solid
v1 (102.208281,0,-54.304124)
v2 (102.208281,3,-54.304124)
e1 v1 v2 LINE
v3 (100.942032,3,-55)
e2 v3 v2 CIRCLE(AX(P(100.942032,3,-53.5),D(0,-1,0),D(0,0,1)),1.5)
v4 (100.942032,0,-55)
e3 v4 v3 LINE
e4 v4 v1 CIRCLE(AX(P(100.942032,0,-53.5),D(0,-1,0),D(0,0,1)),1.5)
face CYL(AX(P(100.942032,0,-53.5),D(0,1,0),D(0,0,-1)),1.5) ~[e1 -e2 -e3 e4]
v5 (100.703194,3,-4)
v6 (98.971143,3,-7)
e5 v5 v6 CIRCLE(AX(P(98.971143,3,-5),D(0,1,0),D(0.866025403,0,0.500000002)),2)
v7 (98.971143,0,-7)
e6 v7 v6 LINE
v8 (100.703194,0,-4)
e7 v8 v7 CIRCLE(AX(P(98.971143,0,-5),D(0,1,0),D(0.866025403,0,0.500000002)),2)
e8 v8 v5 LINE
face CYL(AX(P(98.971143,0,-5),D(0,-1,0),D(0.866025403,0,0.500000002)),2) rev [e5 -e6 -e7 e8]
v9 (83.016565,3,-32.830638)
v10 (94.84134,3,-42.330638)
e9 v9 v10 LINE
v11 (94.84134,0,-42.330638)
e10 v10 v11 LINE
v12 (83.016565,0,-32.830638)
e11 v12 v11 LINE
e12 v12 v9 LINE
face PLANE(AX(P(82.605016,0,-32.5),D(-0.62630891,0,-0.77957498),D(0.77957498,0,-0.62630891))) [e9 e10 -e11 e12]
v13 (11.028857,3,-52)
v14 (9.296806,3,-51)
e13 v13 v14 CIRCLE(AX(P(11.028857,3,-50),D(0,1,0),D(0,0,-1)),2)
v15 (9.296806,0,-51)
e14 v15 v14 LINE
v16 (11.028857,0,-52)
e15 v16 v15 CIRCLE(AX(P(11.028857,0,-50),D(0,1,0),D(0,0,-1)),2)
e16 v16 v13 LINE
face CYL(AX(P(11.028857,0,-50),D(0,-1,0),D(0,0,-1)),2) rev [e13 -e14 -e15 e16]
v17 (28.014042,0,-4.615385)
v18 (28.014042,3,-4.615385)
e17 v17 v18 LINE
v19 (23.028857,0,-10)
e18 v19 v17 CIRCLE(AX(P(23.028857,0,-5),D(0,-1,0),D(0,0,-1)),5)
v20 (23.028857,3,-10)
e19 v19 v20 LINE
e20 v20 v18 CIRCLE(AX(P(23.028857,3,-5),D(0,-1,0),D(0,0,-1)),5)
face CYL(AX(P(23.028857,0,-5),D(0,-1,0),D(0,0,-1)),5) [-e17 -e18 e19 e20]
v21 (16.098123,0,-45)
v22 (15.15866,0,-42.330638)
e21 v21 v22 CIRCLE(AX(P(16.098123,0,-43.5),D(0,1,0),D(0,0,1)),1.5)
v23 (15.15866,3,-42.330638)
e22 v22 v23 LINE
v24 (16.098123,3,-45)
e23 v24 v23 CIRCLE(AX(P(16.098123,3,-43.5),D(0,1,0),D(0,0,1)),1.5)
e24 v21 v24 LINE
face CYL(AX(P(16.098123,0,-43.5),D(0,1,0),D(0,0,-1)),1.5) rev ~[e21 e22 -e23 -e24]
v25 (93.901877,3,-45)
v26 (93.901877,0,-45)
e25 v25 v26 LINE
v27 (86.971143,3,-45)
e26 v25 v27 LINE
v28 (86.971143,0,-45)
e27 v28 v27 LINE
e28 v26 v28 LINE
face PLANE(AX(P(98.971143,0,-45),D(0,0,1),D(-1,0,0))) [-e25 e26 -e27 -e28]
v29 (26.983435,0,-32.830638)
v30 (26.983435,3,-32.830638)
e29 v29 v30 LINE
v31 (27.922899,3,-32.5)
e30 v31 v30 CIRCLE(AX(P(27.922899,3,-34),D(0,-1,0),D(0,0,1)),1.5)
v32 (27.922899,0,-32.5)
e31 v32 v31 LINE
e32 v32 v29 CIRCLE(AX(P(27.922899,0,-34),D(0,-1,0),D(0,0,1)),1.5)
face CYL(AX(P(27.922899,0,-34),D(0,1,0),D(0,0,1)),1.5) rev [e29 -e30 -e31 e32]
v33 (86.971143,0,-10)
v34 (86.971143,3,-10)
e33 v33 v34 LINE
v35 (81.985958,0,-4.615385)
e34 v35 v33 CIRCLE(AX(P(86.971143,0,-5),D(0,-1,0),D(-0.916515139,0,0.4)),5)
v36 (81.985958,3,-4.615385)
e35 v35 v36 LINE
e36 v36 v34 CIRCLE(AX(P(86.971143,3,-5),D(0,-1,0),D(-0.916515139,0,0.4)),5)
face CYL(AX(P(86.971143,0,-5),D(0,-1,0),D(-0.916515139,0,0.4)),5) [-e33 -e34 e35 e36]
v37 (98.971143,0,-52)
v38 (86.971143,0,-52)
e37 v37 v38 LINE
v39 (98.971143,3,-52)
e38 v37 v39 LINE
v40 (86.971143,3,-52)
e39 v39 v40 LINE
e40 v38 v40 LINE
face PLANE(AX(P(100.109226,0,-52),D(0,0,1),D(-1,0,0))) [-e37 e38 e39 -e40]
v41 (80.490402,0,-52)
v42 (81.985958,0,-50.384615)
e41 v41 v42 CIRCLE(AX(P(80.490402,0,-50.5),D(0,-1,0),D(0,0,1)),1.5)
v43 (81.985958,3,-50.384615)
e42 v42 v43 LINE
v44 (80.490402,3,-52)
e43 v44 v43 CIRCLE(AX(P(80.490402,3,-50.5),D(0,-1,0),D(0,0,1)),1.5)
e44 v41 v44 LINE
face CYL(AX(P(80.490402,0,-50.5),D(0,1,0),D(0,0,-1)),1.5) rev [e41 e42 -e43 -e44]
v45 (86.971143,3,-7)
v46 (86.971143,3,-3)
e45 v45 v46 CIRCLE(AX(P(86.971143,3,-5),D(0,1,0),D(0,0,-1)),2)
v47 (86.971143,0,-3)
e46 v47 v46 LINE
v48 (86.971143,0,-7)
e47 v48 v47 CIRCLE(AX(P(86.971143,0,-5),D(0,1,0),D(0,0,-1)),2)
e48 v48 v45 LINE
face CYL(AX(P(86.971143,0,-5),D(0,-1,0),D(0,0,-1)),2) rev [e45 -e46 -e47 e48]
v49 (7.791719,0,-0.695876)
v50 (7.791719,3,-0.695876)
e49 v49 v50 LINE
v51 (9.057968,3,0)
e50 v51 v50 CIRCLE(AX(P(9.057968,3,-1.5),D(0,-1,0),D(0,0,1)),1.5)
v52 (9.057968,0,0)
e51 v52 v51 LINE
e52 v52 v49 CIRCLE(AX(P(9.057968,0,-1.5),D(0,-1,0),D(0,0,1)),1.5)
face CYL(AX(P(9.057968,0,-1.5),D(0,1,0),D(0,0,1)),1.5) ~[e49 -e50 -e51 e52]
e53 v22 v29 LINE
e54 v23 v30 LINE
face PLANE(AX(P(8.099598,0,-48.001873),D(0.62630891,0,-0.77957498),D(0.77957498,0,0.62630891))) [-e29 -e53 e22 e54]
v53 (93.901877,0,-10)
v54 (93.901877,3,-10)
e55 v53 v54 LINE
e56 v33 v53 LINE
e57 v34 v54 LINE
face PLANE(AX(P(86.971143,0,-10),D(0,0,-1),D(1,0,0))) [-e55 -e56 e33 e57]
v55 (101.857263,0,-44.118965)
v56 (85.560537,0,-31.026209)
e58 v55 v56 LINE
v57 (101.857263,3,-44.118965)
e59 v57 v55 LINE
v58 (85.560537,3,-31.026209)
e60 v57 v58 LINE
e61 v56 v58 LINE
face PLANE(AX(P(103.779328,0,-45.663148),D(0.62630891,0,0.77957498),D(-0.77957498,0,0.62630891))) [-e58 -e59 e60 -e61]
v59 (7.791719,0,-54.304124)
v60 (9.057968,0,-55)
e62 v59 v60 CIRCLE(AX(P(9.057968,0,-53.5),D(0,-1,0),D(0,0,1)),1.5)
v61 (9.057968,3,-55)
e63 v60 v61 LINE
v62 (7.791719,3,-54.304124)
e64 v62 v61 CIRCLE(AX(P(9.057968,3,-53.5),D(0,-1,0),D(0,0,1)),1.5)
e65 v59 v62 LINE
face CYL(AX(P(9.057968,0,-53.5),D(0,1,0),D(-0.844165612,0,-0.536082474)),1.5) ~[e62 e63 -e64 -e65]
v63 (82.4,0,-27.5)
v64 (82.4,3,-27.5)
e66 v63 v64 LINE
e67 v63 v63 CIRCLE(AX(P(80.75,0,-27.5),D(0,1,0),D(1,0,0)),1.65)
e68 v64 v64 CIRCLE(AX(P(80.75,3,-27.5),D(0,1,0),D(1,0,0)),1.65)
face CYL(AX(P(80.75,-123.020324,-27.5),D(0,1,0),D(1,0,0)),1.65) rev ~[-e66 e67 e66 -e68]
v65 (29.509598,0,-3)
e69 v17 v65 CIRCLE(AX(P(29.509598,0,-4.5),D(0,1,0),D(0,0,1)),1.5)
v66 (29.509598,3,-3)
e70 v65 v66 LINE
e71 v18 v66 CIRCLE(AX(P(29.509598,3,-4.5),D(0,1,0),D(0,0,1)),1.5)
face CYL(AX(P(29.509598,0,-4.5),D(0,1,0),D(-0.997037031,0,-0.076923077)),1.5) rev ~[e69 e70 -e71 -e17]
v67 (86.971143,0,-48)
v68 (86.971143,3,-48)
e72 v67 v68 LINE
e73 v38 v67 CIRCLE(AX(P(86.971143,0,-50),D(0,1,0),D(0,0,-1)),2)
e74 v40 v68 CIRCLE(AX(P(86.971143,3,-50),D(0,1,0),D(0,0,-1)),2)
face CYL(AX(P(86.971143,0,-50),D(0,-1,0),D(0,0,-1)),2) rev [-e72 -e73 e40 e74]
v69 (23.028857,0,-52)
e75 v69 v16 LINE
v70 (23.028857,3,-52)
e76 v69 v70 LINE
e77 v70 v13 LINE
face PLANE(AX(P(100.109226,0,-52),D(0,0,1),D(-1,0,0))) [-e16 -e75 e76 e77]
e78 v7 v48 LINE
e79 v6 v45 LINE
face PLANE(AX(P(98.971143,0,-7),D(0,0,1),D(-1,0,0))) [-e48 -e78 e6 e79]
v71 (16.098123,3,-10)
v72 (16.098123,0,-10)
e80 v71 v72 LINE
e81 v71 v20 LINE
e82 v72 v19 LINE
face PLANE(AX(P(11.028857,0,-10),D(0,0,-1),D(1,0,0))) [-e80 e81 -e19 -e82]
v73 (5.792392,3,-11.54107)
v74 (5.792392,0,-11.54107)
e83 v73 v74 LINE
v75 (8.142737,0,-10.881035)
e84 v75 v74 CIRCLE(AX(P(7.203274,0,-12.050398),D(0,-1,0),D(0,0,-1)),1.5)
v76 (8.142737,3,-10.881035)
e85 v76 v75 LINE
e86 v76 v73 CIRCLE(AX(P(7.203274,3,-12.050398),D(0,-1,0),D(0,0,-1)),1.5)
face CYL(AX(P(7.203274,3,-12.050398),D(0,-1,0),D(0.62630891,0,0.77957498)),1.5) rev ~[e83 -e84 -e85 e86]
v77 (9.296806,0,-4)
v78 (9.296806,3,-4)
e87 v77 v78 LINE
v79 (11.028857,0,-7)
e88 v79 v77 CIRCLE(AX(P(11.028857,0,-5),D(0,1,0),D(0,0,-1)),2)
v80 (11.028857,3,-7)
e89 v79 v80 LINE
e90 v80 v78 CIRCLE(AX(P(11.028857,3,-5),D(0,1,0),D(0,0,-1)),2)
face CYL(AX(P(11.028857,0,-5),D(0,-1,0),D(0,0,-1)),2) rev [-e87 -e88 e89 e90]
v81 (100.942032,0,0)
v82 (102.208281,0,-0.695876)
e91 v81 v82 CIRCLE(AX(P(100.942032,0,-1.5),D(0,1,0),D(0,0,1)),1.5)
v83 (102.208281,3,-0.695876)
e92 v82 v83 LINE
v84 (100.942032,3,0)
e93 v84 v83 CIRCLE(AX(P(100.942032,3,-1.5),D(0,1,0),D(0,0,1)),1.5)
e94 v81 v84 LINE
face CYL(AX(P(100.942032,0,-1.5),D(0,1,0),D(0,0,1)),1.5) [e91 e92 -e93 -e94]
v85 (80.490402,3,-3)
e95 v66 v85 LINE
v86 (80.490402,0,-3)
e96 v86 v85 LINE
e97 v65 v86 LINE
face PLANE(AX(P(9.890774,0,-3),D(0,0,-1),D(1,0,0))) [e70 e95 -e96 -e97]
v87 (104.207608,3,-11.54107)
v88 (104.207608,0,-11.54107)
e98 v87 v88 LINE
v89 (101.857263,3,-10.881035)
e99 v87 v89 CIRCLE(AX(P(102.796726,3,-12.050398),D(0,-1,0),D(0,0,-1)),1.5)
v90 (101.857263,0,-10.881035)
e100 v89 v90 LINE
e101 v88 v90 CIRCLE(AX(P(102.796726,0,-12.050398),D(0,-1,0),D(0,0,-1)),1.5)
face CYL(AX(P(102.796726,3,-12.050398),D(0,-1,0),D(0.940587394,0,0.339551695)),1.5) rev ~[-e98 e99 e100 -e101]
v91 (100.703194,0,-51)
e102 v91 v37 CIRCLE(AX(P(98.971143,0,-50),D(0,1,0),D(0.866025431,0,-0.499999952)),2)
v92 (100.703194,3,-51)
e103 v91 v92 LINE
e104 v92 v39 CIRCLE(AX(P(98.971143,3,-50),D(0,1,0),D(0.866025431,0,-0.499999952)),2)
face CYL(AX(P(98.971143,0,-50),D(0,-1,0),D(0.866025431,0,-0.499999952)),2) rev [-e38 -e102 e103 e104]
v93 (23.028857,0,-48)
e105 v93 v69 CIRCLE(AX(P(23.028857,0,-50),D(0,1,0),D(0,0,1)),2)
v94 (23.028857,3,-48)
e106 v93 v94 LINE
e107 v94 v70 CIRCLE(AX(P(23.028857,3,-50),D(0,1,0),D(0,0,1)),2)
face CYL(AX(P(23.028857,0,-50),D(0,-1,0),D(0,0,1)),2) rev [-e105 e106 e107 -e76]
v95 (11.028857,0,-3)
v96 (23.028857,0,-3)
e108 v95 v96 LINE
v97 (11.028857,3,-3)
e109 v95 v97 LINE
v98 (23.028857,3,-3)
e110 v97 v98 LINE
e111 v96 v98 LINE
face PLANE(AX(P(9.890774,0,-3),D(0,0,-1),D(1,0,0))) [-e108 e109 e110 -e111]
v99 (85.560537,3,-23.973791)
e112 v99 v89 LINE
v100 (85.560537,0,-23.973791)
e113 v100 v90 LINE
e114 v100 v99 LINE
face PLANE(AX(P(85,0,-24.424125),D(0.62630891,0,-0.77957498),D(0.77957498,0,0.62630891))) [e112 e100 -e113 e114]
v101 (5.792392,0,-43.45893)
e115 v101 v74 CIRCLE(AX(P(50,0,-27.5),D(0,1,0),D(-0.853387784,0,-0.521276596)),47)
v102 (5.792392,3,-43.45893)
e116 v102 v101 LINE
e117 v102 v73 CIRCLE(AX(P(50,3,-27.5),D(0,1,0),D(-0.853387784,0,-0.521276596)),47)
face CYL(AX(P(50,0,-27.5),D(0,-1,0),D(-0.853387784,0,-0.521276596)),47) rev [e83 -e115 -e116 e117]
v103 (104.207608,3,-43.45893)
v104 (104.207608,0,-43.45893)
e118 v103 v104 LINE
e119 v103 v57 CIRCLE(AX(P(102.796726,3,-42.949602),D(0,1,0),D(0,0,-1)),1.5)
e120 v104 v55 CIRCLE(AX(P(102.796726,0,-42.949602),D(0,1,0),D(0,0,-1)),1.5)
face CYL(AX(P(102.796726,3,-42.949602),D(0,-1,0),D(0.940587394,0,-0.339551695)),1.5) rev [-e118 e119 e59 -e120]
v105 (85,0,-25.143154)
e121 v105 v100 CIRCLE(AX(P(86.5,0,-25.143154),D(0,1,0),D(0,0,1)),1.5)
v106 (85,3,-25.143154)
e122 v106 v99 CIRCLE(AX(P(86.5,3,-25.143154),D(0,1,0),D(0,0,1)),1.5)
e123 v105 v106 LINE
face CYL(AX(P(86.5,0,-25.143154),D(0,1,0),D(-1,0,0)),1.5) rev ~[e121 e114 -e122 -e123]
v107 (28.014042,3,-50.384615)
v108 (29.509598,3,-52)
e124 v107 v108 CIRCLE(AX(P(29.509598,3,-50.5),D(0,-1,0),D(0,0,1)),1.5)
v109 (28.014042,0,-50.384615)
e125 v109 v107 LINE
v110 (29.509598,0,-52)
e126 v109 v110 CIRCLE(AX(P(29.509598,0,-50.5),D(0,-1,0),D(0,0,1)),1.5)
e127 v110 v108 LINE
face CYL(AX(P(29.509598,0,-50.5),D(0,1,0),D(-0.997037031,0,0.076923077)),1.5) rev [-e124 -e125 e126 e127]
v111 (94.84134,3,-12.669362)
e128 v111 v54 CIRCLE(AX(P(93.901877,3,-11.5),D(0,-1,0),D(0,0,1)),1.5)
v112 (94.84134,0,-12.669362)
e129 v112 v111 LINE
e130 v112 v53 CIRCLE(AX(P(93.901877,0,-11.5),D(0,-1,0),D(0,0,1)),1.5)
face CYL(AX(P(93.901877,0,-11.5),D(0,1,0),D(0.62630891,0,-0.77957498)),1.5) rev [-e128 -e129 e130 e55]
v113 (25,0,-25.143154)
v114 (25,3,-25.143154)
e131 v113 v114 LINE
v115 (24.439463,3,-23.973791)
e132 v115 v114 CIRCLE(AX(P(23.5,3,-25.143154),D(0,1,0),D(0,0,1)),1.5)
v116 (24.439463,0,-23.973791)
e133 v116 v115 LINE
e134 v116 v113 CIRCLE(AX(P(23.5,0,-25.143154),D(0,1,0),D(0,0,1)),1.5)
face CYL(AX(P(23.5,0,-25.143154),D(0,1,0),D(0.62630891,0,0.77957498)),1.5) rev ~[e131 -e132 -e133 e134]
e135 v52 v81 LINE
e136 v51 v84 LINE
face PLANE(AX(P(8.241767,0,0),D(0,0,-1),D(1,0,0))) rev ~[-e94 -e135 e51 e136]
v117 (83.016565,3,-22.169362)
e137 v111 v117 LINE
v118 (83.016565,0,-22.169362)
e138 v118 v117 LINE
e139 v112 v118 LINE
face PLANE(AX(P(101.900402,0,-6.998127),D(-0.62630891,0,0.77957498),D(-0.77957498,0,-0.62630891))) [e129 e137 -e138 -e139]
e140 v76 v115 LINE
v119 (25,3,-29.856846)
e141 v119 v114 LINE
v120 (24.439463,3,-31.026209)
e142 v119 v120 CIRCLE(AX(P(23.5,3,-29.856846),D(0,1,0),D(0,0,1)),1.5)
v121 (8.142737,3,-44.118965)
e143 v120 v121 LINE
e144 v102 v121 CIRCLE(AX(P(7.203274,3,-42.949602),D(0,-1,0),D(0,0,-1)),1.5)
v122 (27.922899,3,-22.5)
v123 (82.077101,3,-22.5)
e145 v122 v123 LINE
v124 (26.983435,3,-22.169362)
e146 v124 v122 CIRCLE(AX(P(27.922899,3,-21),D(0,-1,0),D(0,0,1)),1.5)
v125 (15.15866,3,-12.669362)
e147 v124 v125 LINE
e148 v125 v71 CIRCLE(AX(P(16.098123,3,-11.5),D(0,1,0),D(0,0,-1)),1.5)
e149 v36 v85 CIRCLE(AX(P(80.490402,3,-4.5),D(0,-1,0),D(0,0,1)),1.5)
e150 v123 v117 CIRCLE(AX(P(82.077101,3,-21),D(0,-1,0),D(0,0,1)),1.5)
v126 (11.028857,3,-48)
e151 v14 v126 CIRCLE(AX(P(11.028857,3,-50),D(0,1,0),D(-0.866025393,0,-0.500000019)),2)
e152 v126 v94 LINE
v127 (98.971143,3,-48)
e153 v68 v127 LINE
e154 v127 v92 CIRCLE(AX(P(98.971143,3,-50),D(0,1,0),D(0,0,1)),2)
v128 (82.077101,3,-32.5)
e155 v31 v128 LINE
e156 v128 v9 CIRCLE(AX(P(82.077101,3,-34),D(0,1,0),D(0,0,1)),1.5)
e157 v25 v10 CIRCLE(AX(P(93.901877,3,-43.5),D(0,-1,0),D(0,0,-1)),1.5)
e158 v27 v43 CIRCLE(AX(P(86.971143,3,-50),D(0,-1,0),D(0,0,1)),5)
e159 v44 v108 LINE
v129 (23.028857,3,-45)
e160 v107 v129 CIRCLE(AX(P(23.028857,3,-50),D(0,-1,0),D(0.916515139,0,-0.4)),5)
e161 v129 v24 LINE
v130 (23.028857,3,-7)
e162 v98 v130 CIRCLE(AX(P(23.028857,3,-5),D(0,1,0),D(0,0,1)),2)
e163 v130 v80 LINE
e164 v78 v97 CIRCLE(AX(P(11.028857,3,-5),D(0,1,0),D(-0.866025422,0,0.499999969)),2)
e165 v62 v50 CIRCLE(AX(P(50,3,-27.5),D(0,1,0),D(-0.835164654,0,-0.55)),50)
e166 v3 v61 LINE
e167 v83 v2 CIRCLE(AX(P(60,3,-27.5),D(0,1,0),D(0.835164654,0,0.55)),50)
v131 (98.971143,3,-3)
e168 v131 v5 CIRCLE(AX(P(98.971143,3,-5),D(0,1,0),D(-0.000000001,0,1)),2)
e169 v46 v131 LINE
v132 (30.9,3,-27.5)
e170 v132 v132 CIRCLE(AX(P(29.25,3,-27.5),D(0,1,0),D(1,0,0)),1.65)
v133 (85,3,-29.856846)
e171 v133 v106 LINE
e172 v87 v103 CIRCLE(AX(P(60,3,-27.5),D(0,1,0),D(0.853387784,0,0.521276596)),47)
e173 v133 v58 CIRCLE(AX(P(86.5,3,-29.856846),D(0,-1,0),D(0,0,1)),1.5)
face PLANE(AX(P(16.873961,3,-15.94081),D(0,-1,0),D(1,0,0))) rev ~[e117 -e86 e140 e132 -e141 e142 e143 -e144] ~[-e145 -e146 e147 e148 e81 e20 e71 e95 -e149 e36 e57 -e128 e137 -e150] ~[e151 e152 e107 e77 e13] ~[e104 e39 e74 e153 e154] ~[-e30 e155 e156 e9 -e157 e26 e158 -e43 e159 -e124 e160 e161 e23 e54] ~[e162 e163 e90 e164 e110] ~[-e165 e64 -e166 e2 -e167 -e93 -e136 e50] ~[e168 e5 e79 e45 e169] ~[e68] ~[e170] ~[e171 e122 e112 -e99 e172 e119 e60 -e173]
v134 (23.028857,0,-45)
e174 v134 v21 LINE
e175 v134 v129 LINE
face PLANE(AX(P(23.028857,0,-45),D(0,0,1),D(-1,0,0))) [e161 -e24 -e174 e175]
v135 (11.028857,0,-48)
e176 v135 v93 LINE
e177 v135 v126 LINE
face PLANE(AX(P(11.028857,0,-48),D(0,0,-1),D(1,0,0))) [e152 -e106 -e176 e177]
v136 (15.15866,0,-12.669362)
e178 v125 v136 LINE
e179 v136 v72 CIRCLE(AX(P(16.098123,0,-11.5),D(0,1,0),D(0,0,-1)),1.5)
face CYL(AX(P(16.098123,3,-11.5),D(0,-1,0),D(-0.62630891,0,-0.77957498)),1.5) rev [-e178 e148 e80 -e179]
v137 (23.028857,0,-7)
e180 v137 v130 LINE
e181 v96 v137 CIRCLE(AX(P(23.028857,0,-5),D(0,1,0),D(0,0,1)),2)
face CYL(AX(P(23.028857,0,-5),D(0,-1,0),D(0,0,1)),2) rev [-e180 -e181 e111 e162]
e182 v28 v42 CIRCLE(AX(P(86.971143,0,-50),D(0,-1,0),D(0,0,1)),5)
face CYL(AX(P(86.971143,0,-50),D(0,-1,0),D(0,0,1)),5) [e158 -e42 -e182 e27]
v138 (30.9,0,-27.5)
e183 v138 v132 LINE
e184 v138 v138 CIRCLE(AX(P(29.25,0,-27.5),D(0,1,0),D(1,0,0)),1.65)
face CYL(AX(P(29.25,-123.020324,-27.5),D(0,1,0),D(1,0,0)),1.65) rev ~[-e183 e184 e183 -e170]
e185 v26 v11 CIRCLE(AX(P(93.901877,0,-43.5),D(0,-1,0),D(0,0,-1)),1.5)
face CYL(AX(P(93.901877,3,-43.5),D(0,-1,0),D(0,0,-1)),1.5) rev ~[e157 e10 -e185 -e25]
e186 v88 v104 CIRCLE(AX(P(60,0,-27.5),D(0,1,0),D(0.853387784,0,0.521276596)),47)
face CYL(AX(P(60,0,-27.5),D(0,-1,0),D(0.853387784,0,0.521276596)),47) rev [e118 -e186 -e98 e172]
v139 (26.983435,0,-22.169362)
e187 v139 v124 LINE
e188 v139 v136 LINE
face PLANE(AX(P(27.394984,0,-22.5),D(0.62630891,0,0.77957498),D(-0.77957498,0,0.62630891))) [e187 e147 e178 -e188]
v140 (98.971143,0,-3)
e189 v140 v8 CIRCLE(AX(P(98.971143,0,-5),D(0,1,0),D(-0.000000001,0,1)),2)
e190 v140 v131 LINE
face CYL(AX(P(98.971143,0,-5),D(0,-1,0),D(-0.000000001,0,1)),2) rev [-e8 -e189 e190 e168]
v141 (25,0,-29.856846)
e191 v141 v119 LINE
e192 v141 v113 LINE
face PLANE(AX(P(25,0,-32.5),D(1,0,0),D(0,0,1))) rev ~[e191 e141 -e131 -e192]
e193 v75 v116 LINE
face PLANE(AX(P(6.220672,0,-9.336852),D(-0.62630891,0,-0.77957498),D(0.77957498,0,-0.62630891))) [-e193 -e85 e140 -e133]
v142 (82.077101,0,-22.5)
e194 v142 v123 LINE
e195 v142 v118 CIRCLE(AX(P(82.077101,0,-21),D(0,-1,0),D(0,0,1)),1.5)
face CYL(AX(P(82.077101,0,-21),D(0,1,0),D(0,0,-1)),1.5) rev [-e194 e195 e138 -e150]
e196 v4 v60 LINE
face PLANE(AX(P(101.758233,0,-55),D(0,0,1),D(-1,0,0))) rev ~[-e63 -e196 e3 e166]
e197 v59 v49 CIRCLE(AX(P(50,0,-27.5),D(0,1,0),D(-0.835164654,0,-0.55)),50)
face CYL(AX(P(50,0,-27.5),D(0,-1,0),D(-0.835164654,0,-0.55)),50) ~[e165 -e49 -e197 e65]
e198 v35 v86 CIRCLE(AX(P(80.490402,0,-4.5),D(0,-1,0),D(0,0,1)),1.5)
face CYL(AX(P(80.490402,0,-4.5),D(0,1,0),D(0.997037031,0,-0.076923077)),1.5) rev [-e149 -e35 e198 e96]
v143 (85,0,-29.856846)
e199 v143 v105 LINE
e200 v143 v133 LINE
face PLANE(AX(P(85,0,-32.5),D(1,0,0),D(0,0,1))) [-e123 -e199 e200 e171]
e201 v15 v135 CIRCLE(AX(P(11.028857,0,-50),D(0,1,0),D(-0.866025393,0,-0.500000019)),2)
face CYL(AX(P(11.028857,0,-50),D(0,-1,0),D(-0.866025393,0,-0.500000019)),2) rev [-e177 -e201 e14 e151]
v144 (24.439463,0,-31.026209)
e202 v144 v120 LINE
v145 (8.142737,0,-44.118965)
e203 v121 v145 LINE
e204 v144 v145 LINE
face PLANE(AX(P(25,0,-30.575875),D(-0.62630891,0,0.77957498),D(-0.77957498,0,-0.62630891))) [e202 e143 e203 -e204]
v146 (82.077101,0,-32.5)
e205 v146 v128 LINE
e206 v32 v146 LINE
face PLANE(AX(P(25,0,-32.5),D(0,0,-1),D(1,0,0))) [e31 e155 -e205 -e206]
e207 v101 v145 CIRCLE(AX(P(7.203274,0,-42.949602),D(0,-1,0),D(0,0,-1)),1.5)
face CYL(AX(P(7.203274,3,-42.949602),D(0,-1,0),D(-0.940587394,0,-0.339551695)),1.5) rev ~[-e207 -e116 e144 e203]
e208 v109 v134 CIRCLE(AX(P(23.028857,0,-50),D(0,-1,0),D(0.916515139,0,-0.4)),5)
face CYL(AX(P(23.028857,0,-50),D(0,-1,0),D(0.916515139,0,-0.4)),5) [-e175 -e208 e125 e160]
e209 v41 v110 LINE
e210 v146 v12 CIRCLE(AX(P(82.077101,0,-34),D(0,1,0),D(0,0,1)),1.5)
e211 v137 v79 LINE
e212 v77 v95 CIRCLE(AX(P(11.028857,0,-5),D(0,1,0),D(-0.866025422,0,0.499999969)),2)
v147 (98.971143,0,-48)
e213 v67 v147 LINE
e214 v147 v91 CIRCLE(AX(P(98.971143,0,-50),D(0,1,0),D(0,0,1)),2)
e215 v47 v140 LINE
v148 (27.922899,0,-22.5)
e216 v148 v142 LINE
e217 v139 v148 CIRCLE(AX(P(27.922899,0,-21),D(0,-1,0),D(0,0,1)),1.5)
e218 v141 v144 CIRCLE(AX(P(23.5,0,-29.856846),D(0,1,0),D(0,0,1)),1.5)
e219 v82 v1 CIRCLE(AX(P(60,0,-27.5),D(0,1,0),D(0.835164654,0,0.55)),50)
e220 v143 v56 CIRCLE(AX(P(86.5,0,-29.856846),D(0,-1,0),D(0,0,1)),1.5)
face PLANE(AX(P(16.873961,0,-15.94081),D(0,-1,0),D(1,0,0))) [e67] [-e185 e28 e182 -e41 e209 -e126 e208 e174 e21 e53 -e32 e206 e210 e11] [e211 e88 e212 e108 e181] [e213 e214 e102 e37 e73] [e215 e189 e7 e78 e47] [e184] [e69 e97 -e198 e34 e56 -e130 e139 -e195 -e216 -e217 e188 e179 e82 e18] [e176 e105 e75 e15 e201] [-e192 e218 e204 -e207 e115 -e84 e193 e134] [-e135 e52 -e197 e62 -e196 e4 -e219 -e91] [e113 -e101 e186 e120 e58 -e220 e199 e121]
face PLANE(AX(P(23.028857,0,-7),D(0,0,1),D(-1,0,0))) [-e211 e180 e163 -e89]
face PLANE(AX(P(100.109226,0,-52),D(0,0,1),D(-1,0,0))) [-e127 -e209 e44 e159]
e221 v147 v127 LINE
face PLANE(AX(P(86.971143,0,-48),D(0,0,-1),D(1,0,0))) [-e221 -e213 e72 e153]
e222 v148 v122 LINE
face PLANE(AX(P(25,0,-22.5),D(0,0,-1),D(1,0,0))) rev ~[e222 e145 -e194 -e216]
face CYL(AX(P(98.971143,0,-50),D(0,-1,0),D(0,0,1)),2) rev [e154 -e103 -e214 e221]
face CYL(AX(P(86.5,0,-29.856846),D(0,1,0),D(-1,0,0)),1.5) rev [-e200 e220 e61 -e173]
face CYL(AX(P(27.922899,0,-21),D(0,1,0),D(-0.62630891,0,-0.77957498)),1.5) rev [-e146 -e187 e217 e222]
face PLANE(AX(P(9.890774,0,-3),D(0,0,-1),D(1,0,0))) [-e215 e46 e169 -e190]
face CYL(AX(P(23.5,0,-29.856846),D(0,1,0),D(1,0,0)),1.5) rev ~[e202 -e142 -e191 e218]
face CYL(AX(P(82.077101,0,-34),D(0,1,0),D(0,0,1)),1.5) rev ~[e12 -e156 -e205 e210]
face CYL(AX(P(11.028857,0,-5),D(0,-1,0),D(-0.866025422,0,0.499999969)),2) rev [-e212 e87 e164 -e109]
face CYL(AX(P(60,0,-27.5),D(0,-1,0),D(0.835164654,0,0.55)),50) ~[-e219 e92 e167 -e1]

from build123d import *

# Parameters (mm, degrees)
EXTRUDE_1_DEPTH = 3
SKETCH_3_W      = 60
SKETCH_3_H      = 10
EXTRUDE_3_DEPTH = 3
EXTRUDE_4_DEPTH = 3
EXTRUDE_5_DEPTH = 3
FILLET_1_R      = 1.5
FILLET_2_R      = 1.5
M4X0_71_D       = 3.3


with BuildPart() as part:
    # Эскиз1 → Бобышка-Вытянуть1 (new body)
    with BuildSketch(Plane(origin=(0, 0, 0), x_dir=(1, 0, 0), z_dir=(0, 1, 0))):
        with BuildLine():
            Line((8.241767279, 0), (101.758232721, 0))
            ThreePointArc((101.758232721, 0), (110, 27.5), (101.758232721, 55))
            Line((101.758232721, 55), (8.241767279, 55))
            ThreePointArc((8.241767279, 55), (0, 27.5), (8.241767279, 0))
        make_face()
        with BuildLine():
            Line((9.890774129, 3), (100.109225871, 3))
            ThreePointArc((100.109225871, 3), (107, 27.5), (100.109225871, 52))
            Line((100.109225871, 52), (9.890774129, 52))
            ThreePointArc((9.890774129, 52), (3, 27.5), (9.890774129, 3))
        make_face(mode=Mode.SUBTRACT)
    extrude(amount=EXTRUDE_1_DEPTH)

    # Эскиз4 → Бобышка-Вытянуть4 (add, through all)
    with BuildSketch(Plane.XZ):
        with BuildLine():
            Line((27.611432525, -3), (23.02885683, -3))
            ThreePointArc((23.02885683, -3), (25.02885683, -5), (23.02885683, -7))
            Line((23.02885683, -7), (11.02885683, -7))
            ThreePointArc((11.02885683, -7), (9.296806041, -6.000000032), (9.296805985, -4.000000064))
            ThreePointArc((9.296805985, -4.000000064), (8.176529623, -6.057114801), (7.160134889, -8.167489628))
            ThreePointArc((7.160134889, -8.167489628), (8.888465293, -9.51870823), (11.02885683, -10))
            Line((11.02885683, -10), (23.02885683, -10))
            ThreePointArc((23.02885683, -10), (27.212156962, -7.738612788), (27.611432525, -3))
        make_face()
        with BuildLine():
            ThreePointArc((9.296805985, -4.000000064), (10.028856798, -3.267949211), (11.02885683, -3))
            Line((11.02885683, -3), (9.890774129, -3))
            ThreePointArc((9.890774129, -3), (9.590696591, -3.498162612), (9.296805985, -4.000000064))
        make_face()
        with BuildLine():
            Line((86.97114317, -3), (82.388567475, -3))
            ThreePointArc((82.388567475, -3), (82.787843038, -7.738612788), (86.97114317, -10))
            Line((86.97114317, -10), (98.97114317, -10))
            ThreePointArc((98.97114317, -10), (101.111534707, -9.51870823), (102.839865111, -8.167489628))
            ThreePointArc((102.839865111, -8.167489628), (101.823470359, -6.057114766), (100.703193976, -3.999999997))
            ThreePointArc((100.703193976, -3.999999997), (100.703193979, -5.999999998), (98.97114317, -7))
            Line((98.97114317, -7), (86.97114317, -7))
            ThreePointArc((86.97114317, -7), (84.97114317, -5), (86.97114317, -3))
        make_face()
        with BuildLine():
            Line((100.109225871, -3), (98.97114317, -3))
            ThreePointArc((98.97114317, -3), (99.971143169, -3.267949191), (100.703193976, -3.999999997))
            ThreePointArc((100.703193976, -3.999999997), (100.409303389, -3.498162579), (100.109225871, -3))
        make_face()
        with BuildLine():
            ThreePointArc((100.703194034, -50.999999903), (101.823470385, -48.942885182), (102.839865111, -46.832510372))
            ThreePointArc((102.839865111, -46.832510372), (101.111534707, -45.48129177), (98.97114317, -45))
            Line((98.97114317, -45), (86.97114317, -45))
            ThreePointArc((86.97114317, -45), (82.787843038, -47.261387212), (82.388567475, -52))
            Line((82.388567475, -52), (86.97114317, -52))
            ThreePointArc((86.97114317, -52), (84.97114317, -50), (86.97114317, -48))
            Line((86.97114317, -48), (98.97114317, -48))
            ThreePointArc((98.97114317, -48), (100.70319395, -48.999999951), (100.703194034, -50.999999903))
        make_face()
        with BuildLine():
            ThreePointArc((100.109225871, -52), (100.409303419, -51.501837371), (100.703194034, -50.999999903))
            ThreePointArc((100.703194034, -50.999999903), (99.971143219, -51.732050779), (98.97114317, -52))
            Line((98.97114317, -52), (100.109225871, -52))
        make_face()
        with BuildLine():
            ThreePointArc((11.02885683, -45), (8.888465293, -45.48129177), (7.160134889, -46.832510372))
            ThreePointArc((7.160134889, -46.832510372), (8.17652965, -48.942885251), (9.296806044, -51.000000038))
            ThreePointArc((9.296806044, -51.000000038), (9.296806011, -49.000000019), (11.02885683, -48))
            Line((11.02885683, -48), (23.02885683, -48))
            ThreePointArc((23.02885683, -48), (25.02885683, -50), (23.02885683, -52))
            Line((23.02885683, -52), (27.611432525, -52))
            ThreePointArc((27.611432525, -52), (27.212156962, -47.261387212), (23.02885683, -45))
            Line((23.02885683, -45), (11.02885683, -45))
        make_face()
        with BuildLine():
            ThreePointArc((11.02885683, -52), (10.028856848, -51.732050818), (9.296806044, -51.000000038))
            ThreePointArc((9.296806044, -51.000000038), (9.590696621, -51.501837438), (9.890774129, -52))
            Line((9.890774129, -52), (11.02885683, -52))
        make_face()
    extrude(amount=-EXTRUDE_4_DEPTH)



with BuildPart() as body_2:
    # Эскиз3 → Бобышка-Вытянуть3 (new body, through all)
    with BuildSketch(Plane.XZ):
        with Locations((55, -27.5)):
            Rectangle(SKETCH_3_W, SKETCH_3_H)
    extrude(amount=-EXTRUDE_3_DEPTH)


with BuildPart() as part_1:
    add(part.part)

    add(body_2.part)  # Бобышка-Вытянуть5 merges body 2
    # Эскиз5 → Бобышка-Вытянуть5 (add, through all)
    with BuildSketch(Plane.XZ):
        Polygon((27.394984288, -22.5), (8.099598255, -6.998127159), (6.220671523, -9.336852098), (25, -24.424125375), (25, -22.5), align=None)
        Polygon((25, -30.575874625), (6.220671523, -45.663147902), (8.099598255, -48.001872841), (27.394984288, -32.5), (25, -32.5), align=None)
        Polygon((101.900401745, -6.998127159), (82.605015712, -22.5), (85, -22.5), (85, -24.424125375), (103.779328477, -9.336852098), align=None)
        Polygon((82.605015712, -32.5), (101.900401745, -48.001872841), (103.779328477, -45.663147902), (85, -30.575874625), (85, -32.5), align=None)
    extrude(amount=-EXTRUDE_5_DEPTH)

    # Скругление1
    fillet_1_edges = [part_1.edges().sort_by_distance(p)[0] for p in [
        (11.836069059, 1.5, -45),
        (6.543612581, 1.5, -45.403697731),
        (27.394984288, 1.5, -32.5),
        (25, 1.5, -30.575874625),
        (98.163930941, 1.5, -10),
        (103.456387419, 1.5, -9.596302269),
        (82.605015712, 1.5, -22.5),
        (85, 1.5, -24.424125375),
        (27.394984288, 1.5, -22.5),
        (98.163930941, 1.5, -45),
        (103.456387419, 1.5, -45.403697731),
        (25, 1.5, -24.424125375),
        (82.605015712, 1.5, -32.5),
        (85, 1.5, -30.575874625),
        (11.836069059, 1.5, -10),
        (6.543612581, 1.5, -9.596302269),
        (27.611432525, 1.5, -52),
        (82.388567475, 1.5, -3),
        (27.611432525, 1.5, -3),
        (82.388567475, 1.5, -52),
    ]]
    fillet(fillet_1_edges, radius=FILLET_1_R)

    # Скругление2
    fillet_2_edges = [part_1.edges().sort_by_distance(p)[0] for p in [
        (8.241767279, 1.5, -55),
        (8.241767279, 1.5, 0),
        (101.758232721, 1.5, 0),
        (101.758232721, 1.5, -55),
    ]]
    fillet(fillet_2_edges, radius=FILLET_2_R)

    # Отверстие обработанное метчиком M4x0.71 (through all)
    with Locations(Plane(origin=(-0.1210586, 0, 3.198200318), x_dir=(-1, 0, 0), z_dir=(0, -1, 0))):
        with Locations((-80.8710586, 30.698200318), (-29.3710586, 30.698200318)):
            Hole(M4X0_71_D / 2)


solid = part_1.part
